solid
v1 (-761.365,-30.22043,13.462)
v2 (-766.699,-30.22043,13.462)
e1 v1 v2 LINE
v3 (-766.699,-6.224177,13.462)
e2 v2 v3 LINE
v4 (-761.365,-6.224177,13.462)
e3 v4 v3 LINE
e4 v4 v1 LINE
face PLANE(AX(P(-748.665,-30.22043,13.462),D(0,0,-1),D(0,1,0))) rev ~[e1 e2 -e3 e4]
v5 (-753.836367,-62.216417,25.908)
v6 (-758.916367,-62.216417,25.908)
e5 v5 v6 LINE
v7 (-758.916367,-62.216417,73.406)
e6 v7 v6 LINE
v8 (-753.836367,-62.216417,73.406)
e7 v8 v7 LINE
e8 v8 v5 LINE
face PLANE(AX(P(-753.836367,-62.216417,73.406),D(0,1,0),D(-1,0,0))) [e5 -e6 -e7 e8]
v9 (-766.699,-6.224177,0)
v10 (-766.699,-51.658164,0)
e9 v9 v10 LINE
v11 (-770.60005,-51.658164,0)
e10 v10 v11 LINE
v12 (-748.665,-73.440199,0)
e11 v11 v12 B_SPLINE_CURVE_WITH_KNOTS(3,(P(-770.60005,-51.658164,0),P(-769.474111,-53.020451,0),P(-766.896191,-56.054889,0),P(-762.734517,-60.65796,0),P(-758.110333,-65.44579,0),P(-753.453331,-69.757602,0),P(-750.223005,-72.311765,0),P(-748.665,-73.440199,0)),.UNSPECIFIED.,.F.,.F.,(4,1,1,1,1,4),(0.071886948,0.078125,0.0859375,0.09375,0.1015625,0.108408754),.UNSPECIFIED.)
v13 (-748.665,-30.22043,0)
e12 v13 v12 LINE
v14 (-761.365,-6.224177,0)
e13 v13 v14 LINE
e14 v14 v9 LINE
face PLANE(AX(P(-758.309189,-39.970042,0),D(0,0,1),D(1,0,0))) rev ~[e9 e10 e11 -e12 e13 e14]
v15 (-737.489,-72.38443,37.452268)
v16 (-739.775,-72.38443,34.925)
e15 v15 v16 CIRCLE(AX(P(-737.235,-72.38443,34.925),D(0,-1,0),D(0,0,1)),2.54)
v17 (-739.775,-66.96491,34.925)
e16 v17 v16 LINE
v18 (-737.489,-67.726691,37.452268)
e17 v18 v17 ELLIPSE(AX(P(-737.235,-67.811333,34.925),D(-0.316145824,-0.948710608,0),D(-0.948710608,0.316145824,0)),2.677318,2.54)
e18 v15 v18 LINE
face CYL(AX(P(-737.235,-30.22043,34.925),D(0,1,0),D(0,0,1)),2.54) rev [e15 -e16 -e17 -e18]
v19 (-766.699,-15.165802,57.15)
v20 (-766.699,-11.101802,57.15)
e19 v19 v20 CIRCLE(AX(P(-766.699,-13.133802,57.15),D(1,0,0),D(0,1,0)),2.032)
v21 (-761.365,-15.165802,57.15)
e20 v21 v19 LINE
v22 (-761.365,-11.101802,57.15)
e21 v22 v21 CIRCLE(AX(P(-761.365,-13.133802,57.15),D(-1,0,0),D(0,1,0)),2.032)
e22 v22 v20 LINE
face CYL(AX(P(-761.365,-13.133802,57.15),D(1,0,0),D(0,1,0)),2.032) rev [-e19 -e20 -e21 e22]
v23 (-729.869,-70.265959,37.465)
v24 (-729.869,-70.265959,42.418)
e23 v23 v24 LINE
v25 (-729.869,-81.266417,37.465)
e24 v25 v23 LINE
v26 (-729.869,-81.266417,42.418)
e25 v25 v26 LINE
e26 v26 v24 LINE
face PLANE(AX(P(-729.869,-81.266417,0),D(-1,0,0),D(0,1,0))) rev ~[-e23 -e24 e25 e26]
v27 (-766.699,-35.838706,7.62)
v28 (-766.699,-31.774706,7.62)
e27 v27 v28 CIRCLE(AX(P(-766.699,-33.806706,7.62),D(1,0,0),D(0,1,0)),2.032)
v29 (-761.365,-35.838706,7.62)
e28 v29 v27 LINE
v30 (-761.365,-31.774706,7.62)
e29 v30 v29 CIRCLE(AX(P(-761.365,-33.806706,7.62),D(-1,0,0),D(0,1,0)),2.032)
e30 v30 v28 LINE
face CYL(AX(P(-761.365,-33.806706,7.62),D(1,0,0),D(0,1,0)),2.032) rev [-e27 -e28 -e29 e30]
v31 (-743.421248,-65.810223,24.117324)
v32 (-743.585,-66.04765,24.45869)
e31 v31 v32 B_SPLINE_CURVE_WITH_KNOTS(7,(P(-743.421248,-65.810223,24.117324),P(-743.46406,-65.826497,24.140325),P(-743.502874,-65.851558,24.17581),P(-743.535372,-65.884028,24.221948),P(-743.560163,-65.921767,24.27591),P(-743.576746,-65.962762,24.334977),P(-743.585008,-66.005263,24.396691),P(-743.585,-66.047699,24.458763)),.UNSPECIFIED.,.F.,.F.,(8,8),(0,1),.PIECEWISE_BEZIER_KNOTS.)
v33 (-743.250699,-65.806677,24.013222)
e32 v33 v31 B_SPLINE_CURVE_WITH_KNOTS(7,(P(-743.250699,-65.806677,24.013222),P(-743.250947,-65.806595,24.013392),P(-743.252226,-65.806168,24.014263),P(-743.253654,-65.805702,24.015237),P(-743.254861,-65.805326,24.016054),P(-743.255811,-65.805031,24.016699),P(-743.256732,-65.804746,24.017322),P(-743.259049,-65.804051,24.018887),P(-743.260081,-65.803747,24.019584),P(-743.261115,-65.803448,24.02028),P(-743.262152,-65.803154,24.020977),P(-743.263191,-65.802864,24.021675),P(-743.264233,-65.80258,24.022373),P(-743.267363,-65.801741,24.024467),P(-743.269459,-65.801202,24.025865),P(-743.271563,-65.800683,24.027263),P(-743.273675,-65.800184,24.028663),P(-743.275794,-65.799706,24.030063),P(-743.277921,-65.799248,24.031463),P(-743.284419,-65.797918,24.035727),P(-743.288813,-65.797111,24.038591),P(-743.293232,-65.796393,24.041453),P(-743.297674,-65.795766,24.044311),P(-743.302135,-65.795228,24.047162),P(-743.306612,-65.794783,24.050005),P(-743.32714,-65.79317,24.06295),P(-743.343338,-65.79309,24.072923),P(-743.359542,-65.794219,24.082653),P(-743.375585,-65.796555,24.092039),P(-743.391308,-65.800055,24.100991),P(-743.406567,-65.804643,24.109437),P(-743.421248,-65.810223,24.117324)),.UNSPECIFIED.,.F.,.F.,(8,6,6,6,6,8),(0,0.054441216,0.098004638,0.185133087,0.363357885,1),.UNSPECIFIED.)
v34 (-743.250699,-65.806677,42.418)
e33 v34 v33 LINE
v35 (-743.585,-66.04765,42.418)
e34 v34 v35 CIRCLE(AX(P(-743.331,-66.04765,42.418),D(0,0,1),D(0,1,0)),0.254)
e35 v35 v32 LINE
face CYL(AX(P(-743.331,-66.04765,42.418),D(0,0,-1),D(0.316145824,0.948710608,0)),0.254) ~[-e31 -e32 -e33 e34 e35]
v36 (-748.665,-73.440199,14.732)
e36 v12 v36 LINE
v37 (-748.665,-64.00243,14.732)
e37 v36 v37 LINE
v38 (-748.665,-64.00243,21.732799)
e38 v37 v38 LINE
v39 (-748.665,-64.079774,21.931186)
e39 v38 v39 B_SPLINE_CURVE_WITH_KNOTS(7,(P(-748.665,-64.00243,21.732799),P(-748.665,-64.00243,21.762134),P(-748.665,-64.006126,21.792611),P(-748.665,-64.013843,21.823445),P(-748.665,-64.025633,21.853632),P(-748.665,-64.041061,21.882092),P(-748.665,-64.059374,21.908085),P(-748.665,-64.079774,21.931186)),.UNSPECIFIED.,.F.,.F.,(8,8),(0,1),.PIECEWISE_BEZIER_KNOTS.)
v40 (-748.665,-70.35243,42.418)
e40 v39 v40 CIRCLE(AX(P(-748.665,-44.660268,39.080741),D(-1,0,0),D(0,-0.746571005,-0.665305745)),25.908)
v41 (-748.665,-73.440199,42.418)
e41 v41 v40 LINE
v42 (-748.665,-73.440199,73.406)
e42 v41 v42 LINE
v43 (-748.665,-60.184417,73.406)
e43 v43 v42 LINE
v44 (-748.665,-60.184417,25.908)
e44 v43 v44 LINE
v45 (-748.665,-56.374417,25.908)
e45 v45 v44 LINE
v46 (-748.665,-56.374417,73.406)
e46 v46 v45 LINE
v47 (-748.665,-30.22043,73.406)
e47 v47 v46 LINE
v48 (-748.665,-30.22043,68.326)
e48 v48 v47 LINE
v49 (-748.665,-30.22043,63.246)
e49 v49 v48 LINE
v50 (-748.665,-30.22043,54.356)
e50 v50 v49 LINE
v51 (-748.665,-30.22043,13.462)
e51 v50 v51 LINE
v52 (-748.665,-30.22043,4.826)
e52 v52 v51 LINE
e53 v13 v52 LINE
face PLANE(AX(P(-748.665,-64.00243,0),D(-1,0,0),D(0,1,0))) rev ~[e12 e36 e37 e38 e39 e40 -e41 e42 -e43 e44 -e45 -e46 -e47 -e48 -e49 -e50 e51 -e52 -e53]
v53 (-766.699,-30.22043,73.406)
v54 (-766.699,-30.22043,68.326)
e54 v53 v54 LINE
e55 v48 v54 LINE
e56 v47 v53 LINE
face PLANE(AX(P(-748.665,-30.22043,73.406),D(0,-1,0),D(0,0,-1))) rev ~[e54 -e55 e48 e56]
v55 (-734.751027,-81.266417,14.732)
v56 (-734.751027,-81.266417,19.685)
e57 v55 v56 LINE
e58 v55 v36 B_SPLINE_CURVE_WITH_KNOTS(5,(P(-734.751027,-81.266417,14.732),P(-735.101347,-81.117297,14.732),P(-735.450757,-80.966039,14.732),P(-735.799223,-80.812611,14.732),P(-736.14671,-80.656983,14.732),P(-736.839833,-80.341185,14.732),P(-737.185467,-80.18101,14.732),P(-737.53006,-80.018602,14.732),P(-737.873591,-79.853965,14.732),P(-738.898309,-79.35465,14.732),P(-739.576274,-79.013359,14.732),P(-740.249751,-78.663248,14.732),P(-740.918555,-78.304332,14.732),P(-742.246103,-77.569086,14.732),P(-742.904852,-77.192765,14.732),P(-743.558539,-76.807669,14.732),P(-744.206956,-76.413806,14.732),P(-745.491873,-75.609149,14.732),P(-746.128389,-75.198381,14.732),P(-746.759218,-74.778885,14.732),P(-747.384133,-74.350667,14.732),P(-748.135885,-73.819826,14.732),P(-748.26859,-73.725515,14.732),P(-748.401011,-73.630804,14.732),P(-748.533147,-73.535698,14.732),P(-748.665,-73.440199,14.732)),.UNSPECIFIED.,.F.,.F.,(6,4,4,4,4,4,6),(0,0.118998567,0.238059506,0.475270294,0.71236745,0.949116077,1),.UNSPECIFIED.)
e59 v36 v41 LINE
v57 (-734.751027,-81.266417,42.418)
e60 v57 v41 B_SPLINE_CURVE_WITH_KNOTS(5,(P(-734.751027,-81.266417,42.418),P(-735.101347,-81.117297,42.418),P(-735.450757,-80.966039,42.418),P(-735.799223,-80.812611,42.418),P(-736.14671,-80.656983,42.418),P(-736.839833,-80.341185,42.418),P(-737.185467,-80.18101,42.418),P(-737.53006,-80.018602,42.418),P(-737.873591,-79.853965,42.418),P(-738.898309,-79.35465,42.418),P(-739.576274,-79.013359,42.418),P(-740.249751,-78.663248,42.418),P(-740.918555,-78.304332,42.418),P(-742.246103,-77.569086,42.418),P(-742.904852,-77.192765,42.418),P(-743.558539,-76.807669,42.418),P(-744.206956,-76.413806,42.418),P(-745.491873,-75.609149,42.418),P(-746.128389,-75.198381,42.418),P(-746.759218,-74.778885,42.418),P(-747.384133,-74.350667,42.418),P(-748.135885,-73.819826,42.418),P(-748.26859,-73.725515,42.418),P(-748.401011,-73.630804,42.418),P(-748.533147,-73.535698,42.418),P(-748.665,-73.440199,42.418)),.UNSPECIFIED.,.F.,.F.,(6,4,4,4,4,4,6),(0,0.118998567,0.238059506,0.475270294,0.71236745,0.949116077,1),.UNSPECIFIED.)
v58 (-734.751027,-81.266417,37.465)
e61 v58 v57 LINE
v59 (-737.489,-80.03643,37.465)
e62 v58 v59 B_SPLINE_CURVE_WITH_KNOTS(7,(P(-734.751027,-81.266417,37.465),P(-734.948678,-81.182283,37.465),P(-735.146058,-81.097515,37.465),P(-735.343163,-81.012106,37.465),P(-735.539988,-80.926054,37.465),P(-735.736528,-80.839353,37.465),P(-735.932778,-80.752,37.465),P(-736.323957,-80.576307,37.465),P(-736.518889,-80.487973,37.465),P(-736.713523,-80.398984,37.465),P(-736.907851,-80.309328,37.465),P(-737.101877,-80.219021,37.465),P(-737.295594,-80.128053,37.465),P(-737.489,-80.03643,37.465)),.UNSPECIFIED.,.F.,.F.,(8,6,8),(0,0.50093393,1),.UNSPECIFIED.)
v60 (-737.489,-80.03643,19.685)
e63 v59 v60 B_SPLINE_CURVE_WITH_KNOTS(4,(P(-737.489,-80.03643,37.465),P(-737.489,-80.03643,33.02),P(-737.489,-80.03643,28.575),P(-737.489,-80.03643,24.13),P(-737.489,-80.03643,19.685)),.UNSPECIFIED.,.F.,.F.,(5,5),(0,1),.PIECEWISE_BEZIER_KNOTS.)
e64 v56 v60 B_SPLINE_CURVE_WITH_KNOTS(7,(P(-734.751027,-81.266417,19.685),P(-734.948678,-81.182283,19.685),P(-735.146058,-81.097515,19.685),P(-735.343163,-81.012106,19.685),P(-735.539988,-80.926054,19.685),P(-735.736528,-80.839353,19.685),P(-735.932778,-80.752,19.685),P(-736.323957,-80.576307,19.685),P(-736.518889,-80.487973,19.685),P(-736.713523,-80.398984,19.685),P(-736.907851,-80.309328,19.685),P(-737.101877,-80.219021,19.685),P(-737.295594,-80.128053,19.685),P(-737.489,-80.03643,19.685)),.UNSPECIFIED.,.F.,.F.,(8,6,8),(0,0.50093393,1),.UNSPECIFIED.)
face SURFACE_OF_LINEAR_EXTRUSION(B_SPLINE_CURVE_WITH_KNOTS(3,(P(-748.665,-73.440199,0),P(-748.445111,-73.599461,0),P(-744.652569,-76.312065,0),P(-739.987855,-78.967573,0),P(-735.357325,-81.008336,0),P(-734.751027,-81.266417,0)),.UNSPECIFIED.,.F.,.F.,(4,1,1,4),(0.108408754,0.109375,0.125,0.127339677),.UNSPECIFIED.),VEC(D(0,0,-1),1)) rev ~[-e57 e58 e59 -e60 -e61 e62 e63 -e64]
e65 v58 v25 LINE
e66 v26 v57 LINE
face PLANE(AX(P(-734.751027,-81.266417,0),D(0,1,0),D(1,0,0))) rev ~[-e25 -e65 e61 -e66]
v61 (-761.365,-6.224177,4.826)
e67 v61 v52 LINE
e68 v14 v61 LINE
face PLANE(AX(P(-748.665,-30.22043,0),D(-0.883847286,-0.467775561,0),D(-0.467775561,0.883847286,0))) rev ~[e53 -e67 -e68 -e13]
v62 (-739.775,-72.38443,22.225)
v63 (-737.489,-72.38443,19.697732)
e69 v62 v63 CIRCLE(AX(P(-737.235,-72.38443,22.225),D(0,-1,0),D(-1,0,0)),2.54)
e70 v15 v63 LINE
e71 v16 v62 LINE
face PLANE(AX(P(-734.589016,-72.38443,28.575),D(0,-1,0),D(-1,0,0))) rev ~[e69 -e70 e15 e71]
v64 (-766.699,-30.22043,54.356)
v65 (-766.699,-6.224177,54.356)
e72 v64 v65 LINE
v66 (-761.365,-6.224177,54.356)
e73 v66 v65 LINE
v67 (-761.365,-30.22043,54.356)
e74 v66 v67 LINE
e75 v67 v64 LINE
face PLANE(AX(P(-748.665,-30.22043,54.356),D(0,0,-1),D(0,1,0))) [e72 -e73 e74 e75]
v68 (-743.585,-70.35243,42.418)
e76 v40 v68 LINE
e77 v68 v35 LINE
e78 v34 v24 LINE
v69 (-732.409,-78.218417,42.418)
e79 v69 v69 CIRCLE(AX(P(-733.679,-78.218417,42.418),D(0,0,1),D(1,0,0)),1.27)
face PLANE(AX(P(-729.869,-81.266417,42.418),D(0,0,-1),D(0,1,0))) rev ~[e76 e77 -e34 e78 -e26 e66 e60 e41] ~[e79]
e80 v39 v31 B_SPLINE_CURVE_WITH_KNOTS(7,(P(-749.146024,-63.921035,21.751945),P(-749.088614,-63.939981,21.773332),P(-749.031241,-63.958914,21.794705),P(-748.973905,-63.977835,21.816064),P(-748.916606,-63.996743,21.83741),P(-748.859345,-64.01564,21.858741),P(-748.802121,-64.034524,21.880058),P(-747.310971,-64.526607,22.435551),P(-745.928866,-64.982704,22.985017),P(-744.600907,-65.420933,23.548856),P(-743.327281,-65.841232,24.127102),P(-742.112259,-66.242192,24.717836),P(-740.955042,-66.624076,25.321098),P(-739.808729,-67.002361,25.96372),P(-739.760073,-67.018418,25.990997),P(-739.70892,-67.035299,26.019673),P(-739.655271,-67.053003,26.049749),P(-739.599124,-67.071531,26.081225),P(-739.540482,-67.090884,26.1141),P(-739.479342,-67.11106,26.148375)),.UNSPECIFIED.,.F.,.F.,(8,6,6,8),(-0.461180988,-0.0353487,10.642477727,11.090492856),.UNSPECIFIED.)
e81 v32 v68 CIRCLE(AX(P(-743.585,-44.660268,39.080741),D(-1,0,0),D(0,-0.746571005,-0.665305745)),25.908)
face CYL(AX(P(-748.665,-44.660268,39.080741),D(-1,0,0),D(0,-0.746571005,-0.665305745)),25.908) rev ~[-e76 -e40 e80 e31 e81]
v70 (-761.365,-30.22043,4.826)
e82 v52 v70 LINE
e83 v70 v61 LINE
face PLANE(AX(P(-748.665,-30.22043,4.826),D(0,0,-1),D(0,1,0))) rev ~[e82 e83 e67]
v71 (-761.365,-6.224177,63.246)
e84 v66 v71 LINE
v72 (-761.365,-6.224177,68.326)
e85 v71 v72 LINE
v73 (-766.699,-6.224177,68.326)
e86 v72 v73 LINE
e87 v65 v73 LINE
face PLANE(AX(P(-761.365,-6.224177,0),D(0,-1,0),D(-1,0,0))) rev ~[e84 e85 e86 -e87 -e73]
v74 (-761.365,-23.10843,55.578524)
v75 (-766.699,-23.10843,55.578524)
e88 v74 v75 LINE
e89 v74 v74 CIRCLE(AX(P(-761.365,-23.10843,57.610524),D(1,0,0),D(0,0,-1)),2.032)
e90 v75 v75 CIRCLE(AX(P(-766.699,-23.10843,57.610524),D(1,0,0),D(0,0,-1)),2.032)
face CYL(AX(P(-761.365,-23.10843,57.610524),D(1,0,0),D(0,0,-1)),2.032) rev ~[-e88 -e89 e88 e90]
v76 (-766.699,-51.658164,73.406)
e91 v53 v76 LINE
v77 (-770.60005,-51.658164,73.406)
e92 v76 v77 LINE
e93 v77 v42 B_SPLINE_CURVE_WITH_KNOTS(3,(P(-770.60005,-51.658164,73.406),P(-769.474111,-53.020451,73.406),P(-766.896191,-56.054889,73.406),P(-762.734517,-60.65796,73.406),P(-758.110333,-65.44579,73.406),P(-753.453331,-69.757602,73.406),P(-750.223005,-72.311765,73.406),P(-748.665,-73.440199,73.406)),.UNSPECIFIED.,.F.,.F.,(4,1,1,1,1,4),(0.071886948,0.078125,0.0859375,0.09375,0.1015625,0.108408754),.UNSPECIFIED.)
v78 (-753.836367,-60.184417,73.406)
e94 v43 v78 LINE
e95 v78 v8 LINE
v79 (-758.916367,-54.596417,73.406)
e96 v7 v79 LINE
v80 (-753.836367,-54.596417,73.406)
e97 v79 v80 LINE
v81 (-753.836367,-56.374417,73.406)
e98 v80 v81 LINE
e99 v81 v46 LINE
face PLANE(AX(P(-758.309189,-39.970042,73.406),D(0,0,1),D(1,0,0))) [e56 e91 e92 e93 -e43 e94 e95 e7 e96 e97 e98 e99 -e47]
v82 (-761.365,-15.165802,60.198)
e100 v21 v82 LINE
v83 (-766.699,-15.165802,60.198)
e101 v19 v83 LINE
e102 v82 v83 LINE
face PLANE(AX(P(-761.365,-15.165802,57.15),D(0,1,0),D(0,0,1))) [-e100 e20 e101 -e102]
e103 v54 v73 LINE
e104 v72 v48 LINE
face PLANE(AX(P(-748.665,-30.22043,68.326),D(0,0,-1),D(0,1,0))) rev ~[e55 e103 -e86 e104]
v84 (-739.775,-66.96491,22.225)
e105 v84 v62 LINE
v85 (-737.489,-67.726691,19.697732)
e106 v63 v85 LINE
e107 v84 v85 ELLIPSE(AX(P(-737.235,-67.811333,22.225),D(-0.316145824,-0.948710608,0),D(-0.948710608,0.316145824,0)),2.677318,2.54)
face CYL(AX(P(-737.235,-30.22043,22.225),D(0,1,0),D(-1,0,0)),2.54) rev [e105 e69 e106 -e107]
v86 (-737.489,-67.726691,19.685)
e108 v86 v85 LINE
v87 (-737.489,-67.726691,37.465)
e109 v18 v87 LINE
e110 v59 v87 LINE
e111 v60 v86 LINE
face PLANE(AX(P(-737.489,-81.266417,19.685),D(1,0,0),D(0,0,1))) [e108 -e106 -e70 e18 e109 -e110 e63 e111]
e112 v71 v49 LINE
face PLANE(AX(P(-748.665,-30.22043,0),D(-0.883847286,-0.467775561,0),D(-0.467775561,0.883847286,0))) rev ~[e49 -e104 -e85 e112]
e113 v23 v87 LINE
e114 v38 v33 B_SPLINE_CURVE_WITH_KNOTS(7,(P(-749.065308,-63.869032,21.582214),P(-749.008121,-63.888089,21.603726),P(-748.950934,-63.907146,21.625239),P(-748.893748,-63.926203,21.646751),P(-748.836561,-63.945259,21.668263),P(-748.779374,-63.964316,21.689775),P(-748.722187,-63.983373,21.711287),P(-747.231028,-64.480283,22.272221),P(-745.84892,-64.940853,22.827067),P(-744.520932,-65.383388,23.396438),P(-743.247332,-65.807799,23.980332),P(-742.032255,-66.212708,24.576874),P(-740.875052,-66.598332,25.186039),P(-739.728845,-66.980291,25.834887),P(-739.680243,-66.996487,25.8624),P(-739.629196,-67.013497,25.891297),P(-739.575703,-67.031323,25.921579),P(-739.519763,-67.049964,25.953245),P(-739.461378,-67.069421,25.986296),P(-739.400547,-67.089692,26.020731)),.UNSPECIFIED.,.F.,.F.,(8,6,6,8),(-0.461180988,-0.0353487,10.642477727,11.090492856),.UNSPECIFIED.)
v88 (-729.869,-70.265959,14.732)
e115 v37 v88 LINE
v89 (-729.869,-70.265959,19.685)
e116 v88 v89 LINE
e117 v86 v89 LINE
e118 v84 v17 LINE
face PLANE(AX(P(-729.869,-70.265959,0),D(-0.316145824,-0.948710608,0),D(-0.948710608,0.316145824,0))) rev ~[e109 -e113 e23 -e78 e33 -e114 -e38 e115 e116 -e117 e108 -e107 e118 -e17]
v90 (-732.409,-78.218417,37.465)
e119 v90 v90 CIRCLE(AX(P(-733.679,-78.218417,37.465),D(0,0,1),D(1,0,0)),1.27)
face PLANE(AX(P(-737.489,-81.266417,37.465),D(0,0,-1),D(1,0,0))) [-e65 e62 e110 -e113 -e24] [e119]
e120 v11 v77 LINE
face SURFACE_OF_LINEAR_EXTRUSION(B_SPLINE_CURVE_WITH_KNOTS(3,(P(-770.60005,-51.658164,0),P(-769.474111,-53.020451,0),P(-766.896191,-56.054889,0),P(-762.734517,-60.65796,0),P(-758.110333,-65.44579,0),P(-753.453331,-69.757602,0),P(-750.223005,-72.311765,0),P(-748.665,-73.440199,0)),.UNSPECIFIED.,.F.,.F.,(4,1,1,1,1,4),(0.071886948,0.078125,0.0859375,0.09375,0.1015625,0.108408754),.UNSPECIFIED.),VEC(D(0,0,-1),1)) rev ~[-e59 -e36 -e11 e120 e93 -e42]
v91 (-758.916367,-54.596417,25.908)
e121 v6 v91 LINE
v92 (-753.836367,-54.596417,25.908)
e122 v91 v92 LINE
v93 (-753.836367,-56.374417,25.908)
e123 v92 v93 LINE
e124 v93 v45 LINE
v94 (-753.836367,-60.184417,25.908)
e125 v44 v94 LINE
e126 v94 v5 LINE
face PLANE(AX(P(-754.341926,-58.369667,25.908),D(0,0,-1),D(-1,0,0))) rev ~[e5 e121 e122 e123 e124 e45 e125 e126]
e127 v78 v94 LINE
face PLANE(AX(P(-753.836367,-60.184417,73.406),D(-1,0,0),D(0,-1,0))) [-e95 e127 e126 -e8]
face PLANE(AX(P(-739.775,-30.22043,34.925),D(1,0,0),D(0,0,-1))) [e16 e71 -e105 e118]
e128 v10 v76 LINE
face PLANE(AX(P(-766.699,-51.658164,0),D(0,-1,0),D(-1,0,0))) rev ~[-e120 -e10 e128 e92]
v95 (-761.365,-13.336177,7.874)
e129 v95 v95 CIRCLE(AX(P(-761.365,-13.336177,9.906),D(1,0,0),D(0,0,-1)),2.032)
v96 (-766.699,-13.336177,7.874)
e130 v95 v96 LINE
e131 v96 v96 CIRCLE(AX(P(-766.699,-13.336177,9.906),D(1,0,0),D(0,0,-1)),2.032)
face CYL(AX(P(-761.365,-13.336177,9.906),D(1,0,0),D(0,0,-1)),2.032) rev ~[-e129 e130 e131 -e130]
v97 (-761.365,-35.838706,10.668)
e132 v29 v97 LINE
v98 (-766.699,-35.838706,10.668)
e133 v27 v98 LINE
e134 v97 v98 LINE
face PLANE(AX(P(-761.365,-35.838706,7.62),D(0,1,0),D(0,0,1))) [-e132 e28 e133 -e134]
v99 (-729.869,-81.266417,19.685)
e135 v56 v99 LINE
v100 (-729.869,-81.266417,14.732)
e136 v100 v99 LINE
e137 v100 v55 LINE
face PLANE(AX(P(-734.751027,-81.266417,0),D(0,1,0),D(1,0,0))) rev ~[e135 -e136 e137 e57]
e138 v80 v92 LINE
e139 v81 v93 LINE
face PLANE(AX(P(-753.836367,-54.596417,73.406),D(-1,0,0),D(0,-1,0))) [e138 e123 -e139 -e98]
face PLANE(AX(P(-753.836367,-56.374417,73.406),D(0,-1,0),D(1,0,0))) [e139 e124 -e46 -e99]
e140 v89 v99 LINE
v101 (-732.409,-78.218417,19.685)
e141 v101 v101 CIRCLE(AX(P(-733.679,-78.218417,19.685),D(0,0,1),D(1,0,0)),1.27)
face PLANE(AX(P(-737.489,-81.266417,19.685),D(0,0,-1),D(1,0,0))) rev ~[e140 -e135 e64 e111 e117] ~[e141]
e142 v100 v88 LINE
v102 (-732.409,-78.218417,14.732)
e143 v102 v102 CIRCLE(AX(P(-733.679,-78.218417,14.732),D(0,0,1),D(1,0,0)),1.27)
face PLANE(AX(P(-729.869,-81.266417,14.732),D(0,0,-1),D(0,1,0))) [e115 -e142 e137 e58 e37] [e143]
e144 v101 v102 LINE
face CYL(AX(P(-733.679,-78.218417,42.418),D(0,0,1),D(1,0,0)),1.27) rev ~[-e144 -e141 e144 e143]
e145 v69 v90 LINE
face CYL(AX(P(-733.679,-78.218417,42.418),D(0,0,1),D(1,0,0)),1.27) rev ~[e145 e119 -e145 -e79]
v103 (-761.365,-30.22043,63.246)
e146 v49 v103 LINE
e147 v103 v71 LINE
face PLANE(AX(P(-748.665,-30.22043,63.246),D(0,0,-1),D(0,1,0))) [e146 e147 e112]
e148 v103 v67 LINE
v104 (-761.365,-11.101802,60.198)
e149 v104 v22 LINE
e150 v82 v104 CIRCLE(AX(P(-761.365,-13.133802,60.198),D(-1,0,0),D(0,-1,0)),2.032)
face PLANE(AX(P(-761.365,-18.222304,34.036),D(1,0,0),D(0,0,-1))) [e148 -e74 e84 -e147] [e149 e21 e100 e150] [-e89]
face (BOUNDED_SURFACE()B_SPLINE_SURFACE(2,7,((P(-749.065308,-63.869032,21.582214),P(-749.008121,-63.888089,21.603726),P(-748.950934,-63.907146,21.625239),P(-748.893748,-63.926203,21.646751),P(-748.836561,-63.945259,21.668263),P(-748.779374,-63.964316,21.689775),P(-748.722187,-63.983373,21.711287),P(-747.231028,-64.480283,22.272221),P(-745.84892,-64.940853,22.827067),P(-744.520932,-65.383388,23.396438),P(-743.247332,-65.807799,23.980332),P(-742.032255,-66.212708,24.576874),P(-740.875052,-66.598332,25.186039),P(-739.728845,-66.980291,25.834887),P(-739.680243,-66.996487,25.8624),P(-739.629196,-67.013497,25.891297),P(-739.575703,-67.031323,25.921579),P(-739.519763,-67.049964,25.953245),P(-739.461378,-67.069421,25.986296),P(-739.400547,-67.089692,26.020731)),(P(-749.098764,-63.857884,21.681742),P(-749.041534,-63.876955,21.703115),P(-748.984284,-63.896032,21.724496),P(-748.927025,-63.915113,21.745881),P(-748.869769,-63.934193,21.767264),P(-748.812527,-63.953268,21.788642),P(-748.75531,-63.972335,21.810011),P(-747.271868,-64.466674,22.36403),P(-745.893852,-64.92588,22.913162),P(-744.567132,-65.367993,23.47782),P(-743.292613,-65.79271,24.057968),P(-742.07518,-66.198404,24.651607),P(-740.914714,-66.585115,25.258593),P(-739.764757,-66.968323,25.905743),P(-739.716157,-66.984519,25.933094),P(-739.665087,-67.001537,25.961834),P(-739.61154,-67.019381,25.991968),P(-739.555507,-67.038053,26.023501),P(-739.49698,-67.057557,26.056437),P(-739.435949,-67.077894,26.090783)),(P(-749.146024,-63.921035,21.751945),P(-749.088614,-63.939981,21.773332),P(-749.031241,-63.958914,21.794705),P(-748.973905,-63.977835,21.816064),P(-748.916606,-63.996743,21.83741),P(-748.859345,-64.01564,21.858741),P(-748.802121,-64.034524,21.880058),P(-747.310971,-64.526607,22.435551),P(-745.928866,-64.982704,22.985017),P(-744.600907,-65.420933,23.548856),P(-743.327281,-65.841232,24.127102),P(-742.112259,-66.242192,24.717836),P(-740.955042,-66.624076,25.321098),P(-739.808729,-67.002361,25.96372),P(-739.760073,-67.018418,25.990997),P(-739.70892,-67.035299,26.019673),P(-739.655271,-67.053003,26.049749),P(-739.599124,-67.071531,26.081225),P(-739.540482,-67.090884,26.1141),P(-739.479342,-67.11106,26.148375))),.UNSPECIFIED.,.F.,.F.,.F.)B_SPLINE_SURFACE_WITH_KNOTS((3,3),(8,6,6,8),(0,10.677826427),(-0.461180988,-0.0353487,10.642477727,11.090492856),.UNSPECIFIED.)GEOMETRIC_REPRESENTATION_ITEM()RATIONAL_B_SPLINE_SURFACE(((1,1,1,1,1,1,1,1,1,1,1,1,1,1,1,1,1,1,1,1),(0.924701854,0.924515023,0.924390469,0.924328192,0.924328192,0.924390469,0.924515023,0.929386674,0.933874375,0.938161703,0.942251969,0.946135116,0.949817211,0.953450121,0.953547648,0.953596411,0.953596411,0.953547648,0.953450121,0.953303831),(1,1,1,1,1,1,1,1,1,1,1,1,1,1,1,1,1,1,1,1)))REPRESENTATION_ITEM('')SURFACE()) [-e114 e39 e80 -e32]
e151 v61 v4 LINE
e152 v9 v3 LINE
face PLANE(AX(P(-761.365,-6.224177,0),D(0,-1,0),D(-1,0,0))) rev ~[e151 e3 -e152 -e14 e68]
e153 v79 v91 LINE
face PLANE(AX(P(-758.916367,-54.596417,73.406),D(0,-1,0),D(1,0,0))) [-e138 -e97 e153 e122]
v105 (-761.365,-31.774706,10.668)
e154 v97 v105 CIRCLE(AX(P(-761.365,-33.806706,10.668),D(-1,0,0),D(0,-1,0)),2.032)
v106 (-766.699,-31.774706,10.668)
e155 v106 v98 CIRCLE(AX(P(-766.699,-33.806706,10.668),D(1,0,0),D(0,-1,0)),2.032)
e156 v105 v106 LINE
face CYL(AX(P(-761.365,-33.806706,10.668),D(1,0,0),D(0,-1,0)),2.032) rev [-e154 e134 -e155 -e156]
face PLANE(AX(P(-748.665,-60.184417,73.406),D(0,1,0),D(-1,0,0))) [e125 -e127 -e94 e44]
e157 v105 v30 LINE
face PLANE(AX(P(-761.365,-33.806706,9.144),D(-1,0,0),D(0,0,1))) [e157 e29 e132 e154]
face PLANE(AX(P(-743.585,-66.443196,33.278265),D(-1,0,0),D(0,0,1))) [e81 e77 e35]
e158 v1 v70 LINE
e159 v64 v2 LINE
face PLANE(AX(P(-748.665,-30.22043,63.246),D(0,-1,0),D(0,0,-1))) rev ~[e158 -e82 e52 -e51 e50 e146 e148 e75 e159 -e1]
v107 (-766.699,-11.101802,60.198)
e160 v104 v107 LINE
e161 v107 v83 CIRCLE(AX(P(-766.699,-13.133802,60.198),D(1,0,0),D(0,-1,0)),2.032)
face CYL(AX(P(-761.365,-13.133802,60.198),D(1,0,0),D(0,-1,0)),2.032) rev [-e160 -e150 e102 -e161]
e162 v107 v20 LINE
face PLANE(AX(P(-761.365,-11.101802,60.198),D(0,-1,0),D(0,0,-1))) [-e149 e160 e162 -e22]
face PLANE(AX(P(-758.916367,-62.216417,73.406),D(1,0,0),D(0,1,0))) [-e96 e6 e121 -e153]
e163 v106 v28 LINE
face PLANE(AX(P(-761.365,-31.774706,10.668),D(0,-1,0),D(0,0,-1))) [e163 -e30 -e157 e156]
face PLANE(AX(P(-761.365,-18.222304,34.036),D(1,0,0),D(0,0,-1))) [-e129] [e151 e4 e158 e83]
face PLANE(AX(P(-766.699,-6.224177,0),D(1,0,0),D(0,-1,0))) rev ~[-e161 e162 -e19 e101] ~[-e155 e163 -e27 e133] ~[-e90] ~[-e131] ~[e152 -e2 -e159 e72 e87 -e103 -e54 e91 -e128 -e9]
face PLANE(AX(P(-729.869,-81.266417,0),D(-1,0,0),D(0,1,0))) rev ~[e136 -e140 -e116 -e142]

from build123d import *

# Parameters (mm, degrees)
BOSS_EXTRUDE1_DEPTH = 73.406
SKETCH2_W           = 5.08
SKETCH2_H           = 23.996252619
SKETCH2_W_2         = 40.894
CUT_EXTRUDE1_DEPTH  = 112.686247001
SKETCH3_W           = 58.42
SKETCH3_H           = 23.996252619
CUT_EXTRUDE2_DEPTH  = 12.7
SKETCH4_R           = 2.032
CUT_EXTRUDE3_DEPTH  = 114.950293405
SKETCH5_W           = 30.988
SKETCH5_H           = 17.263986836
SKETCH5_W_2         = 14.732
CUT_EXTRUDE4_DEPTH  = 18.796
CUT_EXTRUDE5_DEPTH  = 47.498
SKETCH7_W           = 7.62
SKETCH7_H           = 17.78
CUT_EXTRUDE6_DEPTH  = 22.098
CUT_EXTRUDE7_DEPTH  = 42.164
SKETCH9_R           = 1.27
CUT_EXTRUDE8_DEPTH  = 777.033475109
CUT_EXTRUDE9_DEPTH  = 5.08
FILLET1_R           = 0.254


with BuildPart() as part:
    # Sketch1 → Boss-Extrude1 (new body)
    with BuildSketch(Plane.XY):
        with BuildLine():
            Line((-748.665, -64.002429831), (-748.665, -30.220429831))
            Line((-748.665, -30.220429831), (-761.365, -6.224177212))
            Line((-761.365, -6.224177212), (-766.699, -6.224177212))
            Line((-766.699, -6.224177212), (-766.699, -51.658164167))
            Line((-766.699, -51.658164167), (-770.600050032, -51.658164167))
            add(Edge.make_bspline(
                [(-770.600050032, -51.658164167), (-769.474110637, -53.020450544), (-766.896191207, -56.054888677), (-762.734517182, -60.657959907), (-758.1103328, -65.445789554), (-753.453331209, -69.75760173), (-750.223005304, -72.311764833), (-748.665, -73.440199402)],
                knots=[0.071886948, 0.071886948, 0.071886948, 0.071886948, 0.078125, 0.0859375, 0.09375, 0.1015625, 0.108408754, 0.108408754, 0.108408754, 0.108408754], degree=3))
            Line((-748.665, -73.440199402), (-748.665, -64.002429831))
        make_face()
        with BuildLine():
            Line((-729.869, -70.265959359), (-748.665, -64.002429831))
            Line((-748.665, -64.002429831), (-748.665, -73.440199402))
            add(Edge.make_bspline(
                [(-748.665, -73.440199402), (-748.445110963, -73.599460985), (-744.652568783, -76.312065429), (-739.987854595, -78.967573397), (-735.357324532, -81.008335743), (-734.751026936, -81.266416667)],
                knots=[0.108408754, 0.108408754, 0.108408754, 0.108408754, 0.109375, 0.125, 0.127339677, 0.127339677, 0.127339677, 0.127339677], degree=3))
            Line((-734.751026936, -81.266416667), (-729.869, -81.266416667))
            Line((-729.869, -81.266416667), (-729.869, -70.265959359))
        make_face()
    extrude(amount=BOSS_EXTRUDE1_DEPTH)

    # Sketch2 → Cut-Extrude1 (cut, through all)
    with BuildSketch(Plane(origin=(-748.665, 0, 0), x_dir=(0, 0, -1), z_dir=(1, 0, 0))):
        with Locations((-70.866, -18.222303522)):
            Rectangle(SKETCH2_W, SKETCH2_H)
        with Locations((-33.909, -18.222303522)):
            Rectangle(SKETCH2_W_2, SKETCH2_H)
    extrude(amount=-CUT_EXTRUDE1_DEPTH, mode=Mode.SUBTRACT)

    # Sketch3 → Cut-Extrude2 (cut)
    with BuildSketch(Plane(origin=(-748.665, 0, 0), x_dir=(0, 0, -1), z_dir=(1, 0, 0))):
        with Locations((-34.036, -18.222303522)):
            Rectangle(SKETCH3_W, SKETCH3_H)
    extrude(amount=-CUT_EXTRUDE2_DEPTH, mode=Mode.SUBTRACT)

    # Sketch4 → Cut-Extrude3 (cut, through all)
    with BuildSketch(Plane(origin=(-761.365, 0, 0), x_dir=(0, 0, -1), z_dir=(1, 0, 0))):
        with Locations((-57.610523574, -23.108429831)):
            Circle(SKETCH4_R)
        with Locations((-9.906, -13.336177212)):
            Circle(SKETCH4_R)
        with BuildLine():
            Line((-60.198, -11.101802223), (-57.15, -11.101802223))
            ThreePointArc((-57.15, -11.101802223), (-55.118, -13.133802223), (-57.15, -15.165802223))
            Line((-57.15, -15.165802223), (-60.198, -15.165802223))
            ThreePointArc((-60.198, -15.165802223), (-62.23, -13.133802223), (-60.198, -11.101802223))
        make_face()
        with BuildLine():
            Line((-10.668, -31.774706288), (-7.62, -31.774706288))
            ThreePointArc((-7.62, -31.774706288), (-5.588, -33.806706288), (-7.62, -35.838706288))
            Line((-7.62, -35.838706288), (-10.668, -35.838706288))
            ThreePointArc((-10.668, -35.838706288), (-12.7, -33.806706288), (-10.668, -31.774706288))
        make_face()
    extrude(amount=-CUT_EXTRUDE3_DEPTH, mode=Mode.SUBTRACT)

    # Sketch5 → Cut-Extrude4 (cut)
    with BuildSketch(Plane(origin=(-729.869, 0, 0), x_dir=(0, 0, -1), z_dir=(1, 0, 0))):
        with Locations((-57.912, -72.634423249)):
            Rectangle(SKETCH5_W, SKETCH5_H)
        with Locations((-7.366, -72.634423249)):
            Rectangle(SKETCH5_W_2, SKETCH5_H)
    extrude(amount=-CUT_EXTRUDE4_DEPTH, mode=Mode.SUBTRACT)

    # Sketch6 → Cut-Extrude5 (cut)
    with BuildSketch(Plane.XY.offset(73.406)):
        Polygon((-748.665, -56.374416667), (-748.665, -60.184416667), (-753.836367364, -60.184416667), (-753.836367364, -62.216416667), (-758.916367364, -62.216416667), (-758.916367364, -54.596416667), (-753.836367364, -54.596416667), (-753.836367364, -56.374416667), align=None)
    extrude(amount=-CUT_EXTRUDE5_DEPTH, mode=Mode.SUBTRACT)

    # Sketch7 → Cut-Extrude6 (cut)
    with BuildSketch(Plane.XZ.offset(81.266416667)):
        with Locations((-733.679, 28.575)):
            Rectangle(SKETCH7_W, SKETCH7_H)
    extrude(amount=-CUT_EXTRUDE6_DEPTH, mode=Mode.SUBTRACT)

    # Sketch8 → Cut-Extrude7 (cut)
    with BuildSketch(Plane(origin=(0, -30.220429831, 0), x_dir=(1, 0, 0), z_dir=(0, 1, 0))):
        with BuildLine():
            Line((-729.869, -37.465), (-737.235, -37.465))
            ThreePointArc((-737.235, -37.465), (-739.031051224, -36.721051224), (-739.775, -34.925))
            Line((-739.775, -34.925), (-739.775, -22.225))
            ThreePointArc((-739.775, -22.225), (-739.031051224, -20.428948776), (-737.235, -19.685))
            Line((-737.235, -19.685), (-729.869, -19.685))
            Line((-729.869, -19.685), (-729.869, -37.465))
        make_face()
    extrude(amount=-CUT_EXTRUDE7_DEPTH, mode=Mode.SUBTRACT)

    # Sketch9 → Cut-Extrude8 (cut, through all)
    with BuildSketch(Plane.XY.offset(42.418)):
        with Locations((-733.679, -78.218416667)):
            Circle(SKETCH9_R)
    extrude(amount=-CUT_EXTRUDE8_DEPTH, mode=Mode.SUBTRACT)

    # Sketch12 → Cut-Extrude9 (cut)
    with BuildSketch(Plane(origin=(-748.665, 0, 0), x_dir=(0, 0, -1), z_dir=(1, 0, 0))):
        with BuildLine():
            Line((-42.418, -64.002429831), (-21.844, -64.002429831))
            ThreePointArc((-21.844, -64.002429831), (-31.440091509, -69.415973341), (-42.418, -70.352429831))
            Line((-42.418, -70.352429831), (-42.418, -64.002429831))
        make_face()
    extrude(amount=CUT_EXTRUDE9_DEPTH, mode=Mode.SUBTRACT)

    # Fillet1
    fillet1_edges = [part.edges().sort_by_distance(p)[0] for p in [
        (-743.585, -65.69527565, 33.18708051),
        (-746.106672699, -64.854960082, 22.851173008),
    ]]
    fillet(fillet1_edges, radius=FILLET1_R)


solid = part.part
